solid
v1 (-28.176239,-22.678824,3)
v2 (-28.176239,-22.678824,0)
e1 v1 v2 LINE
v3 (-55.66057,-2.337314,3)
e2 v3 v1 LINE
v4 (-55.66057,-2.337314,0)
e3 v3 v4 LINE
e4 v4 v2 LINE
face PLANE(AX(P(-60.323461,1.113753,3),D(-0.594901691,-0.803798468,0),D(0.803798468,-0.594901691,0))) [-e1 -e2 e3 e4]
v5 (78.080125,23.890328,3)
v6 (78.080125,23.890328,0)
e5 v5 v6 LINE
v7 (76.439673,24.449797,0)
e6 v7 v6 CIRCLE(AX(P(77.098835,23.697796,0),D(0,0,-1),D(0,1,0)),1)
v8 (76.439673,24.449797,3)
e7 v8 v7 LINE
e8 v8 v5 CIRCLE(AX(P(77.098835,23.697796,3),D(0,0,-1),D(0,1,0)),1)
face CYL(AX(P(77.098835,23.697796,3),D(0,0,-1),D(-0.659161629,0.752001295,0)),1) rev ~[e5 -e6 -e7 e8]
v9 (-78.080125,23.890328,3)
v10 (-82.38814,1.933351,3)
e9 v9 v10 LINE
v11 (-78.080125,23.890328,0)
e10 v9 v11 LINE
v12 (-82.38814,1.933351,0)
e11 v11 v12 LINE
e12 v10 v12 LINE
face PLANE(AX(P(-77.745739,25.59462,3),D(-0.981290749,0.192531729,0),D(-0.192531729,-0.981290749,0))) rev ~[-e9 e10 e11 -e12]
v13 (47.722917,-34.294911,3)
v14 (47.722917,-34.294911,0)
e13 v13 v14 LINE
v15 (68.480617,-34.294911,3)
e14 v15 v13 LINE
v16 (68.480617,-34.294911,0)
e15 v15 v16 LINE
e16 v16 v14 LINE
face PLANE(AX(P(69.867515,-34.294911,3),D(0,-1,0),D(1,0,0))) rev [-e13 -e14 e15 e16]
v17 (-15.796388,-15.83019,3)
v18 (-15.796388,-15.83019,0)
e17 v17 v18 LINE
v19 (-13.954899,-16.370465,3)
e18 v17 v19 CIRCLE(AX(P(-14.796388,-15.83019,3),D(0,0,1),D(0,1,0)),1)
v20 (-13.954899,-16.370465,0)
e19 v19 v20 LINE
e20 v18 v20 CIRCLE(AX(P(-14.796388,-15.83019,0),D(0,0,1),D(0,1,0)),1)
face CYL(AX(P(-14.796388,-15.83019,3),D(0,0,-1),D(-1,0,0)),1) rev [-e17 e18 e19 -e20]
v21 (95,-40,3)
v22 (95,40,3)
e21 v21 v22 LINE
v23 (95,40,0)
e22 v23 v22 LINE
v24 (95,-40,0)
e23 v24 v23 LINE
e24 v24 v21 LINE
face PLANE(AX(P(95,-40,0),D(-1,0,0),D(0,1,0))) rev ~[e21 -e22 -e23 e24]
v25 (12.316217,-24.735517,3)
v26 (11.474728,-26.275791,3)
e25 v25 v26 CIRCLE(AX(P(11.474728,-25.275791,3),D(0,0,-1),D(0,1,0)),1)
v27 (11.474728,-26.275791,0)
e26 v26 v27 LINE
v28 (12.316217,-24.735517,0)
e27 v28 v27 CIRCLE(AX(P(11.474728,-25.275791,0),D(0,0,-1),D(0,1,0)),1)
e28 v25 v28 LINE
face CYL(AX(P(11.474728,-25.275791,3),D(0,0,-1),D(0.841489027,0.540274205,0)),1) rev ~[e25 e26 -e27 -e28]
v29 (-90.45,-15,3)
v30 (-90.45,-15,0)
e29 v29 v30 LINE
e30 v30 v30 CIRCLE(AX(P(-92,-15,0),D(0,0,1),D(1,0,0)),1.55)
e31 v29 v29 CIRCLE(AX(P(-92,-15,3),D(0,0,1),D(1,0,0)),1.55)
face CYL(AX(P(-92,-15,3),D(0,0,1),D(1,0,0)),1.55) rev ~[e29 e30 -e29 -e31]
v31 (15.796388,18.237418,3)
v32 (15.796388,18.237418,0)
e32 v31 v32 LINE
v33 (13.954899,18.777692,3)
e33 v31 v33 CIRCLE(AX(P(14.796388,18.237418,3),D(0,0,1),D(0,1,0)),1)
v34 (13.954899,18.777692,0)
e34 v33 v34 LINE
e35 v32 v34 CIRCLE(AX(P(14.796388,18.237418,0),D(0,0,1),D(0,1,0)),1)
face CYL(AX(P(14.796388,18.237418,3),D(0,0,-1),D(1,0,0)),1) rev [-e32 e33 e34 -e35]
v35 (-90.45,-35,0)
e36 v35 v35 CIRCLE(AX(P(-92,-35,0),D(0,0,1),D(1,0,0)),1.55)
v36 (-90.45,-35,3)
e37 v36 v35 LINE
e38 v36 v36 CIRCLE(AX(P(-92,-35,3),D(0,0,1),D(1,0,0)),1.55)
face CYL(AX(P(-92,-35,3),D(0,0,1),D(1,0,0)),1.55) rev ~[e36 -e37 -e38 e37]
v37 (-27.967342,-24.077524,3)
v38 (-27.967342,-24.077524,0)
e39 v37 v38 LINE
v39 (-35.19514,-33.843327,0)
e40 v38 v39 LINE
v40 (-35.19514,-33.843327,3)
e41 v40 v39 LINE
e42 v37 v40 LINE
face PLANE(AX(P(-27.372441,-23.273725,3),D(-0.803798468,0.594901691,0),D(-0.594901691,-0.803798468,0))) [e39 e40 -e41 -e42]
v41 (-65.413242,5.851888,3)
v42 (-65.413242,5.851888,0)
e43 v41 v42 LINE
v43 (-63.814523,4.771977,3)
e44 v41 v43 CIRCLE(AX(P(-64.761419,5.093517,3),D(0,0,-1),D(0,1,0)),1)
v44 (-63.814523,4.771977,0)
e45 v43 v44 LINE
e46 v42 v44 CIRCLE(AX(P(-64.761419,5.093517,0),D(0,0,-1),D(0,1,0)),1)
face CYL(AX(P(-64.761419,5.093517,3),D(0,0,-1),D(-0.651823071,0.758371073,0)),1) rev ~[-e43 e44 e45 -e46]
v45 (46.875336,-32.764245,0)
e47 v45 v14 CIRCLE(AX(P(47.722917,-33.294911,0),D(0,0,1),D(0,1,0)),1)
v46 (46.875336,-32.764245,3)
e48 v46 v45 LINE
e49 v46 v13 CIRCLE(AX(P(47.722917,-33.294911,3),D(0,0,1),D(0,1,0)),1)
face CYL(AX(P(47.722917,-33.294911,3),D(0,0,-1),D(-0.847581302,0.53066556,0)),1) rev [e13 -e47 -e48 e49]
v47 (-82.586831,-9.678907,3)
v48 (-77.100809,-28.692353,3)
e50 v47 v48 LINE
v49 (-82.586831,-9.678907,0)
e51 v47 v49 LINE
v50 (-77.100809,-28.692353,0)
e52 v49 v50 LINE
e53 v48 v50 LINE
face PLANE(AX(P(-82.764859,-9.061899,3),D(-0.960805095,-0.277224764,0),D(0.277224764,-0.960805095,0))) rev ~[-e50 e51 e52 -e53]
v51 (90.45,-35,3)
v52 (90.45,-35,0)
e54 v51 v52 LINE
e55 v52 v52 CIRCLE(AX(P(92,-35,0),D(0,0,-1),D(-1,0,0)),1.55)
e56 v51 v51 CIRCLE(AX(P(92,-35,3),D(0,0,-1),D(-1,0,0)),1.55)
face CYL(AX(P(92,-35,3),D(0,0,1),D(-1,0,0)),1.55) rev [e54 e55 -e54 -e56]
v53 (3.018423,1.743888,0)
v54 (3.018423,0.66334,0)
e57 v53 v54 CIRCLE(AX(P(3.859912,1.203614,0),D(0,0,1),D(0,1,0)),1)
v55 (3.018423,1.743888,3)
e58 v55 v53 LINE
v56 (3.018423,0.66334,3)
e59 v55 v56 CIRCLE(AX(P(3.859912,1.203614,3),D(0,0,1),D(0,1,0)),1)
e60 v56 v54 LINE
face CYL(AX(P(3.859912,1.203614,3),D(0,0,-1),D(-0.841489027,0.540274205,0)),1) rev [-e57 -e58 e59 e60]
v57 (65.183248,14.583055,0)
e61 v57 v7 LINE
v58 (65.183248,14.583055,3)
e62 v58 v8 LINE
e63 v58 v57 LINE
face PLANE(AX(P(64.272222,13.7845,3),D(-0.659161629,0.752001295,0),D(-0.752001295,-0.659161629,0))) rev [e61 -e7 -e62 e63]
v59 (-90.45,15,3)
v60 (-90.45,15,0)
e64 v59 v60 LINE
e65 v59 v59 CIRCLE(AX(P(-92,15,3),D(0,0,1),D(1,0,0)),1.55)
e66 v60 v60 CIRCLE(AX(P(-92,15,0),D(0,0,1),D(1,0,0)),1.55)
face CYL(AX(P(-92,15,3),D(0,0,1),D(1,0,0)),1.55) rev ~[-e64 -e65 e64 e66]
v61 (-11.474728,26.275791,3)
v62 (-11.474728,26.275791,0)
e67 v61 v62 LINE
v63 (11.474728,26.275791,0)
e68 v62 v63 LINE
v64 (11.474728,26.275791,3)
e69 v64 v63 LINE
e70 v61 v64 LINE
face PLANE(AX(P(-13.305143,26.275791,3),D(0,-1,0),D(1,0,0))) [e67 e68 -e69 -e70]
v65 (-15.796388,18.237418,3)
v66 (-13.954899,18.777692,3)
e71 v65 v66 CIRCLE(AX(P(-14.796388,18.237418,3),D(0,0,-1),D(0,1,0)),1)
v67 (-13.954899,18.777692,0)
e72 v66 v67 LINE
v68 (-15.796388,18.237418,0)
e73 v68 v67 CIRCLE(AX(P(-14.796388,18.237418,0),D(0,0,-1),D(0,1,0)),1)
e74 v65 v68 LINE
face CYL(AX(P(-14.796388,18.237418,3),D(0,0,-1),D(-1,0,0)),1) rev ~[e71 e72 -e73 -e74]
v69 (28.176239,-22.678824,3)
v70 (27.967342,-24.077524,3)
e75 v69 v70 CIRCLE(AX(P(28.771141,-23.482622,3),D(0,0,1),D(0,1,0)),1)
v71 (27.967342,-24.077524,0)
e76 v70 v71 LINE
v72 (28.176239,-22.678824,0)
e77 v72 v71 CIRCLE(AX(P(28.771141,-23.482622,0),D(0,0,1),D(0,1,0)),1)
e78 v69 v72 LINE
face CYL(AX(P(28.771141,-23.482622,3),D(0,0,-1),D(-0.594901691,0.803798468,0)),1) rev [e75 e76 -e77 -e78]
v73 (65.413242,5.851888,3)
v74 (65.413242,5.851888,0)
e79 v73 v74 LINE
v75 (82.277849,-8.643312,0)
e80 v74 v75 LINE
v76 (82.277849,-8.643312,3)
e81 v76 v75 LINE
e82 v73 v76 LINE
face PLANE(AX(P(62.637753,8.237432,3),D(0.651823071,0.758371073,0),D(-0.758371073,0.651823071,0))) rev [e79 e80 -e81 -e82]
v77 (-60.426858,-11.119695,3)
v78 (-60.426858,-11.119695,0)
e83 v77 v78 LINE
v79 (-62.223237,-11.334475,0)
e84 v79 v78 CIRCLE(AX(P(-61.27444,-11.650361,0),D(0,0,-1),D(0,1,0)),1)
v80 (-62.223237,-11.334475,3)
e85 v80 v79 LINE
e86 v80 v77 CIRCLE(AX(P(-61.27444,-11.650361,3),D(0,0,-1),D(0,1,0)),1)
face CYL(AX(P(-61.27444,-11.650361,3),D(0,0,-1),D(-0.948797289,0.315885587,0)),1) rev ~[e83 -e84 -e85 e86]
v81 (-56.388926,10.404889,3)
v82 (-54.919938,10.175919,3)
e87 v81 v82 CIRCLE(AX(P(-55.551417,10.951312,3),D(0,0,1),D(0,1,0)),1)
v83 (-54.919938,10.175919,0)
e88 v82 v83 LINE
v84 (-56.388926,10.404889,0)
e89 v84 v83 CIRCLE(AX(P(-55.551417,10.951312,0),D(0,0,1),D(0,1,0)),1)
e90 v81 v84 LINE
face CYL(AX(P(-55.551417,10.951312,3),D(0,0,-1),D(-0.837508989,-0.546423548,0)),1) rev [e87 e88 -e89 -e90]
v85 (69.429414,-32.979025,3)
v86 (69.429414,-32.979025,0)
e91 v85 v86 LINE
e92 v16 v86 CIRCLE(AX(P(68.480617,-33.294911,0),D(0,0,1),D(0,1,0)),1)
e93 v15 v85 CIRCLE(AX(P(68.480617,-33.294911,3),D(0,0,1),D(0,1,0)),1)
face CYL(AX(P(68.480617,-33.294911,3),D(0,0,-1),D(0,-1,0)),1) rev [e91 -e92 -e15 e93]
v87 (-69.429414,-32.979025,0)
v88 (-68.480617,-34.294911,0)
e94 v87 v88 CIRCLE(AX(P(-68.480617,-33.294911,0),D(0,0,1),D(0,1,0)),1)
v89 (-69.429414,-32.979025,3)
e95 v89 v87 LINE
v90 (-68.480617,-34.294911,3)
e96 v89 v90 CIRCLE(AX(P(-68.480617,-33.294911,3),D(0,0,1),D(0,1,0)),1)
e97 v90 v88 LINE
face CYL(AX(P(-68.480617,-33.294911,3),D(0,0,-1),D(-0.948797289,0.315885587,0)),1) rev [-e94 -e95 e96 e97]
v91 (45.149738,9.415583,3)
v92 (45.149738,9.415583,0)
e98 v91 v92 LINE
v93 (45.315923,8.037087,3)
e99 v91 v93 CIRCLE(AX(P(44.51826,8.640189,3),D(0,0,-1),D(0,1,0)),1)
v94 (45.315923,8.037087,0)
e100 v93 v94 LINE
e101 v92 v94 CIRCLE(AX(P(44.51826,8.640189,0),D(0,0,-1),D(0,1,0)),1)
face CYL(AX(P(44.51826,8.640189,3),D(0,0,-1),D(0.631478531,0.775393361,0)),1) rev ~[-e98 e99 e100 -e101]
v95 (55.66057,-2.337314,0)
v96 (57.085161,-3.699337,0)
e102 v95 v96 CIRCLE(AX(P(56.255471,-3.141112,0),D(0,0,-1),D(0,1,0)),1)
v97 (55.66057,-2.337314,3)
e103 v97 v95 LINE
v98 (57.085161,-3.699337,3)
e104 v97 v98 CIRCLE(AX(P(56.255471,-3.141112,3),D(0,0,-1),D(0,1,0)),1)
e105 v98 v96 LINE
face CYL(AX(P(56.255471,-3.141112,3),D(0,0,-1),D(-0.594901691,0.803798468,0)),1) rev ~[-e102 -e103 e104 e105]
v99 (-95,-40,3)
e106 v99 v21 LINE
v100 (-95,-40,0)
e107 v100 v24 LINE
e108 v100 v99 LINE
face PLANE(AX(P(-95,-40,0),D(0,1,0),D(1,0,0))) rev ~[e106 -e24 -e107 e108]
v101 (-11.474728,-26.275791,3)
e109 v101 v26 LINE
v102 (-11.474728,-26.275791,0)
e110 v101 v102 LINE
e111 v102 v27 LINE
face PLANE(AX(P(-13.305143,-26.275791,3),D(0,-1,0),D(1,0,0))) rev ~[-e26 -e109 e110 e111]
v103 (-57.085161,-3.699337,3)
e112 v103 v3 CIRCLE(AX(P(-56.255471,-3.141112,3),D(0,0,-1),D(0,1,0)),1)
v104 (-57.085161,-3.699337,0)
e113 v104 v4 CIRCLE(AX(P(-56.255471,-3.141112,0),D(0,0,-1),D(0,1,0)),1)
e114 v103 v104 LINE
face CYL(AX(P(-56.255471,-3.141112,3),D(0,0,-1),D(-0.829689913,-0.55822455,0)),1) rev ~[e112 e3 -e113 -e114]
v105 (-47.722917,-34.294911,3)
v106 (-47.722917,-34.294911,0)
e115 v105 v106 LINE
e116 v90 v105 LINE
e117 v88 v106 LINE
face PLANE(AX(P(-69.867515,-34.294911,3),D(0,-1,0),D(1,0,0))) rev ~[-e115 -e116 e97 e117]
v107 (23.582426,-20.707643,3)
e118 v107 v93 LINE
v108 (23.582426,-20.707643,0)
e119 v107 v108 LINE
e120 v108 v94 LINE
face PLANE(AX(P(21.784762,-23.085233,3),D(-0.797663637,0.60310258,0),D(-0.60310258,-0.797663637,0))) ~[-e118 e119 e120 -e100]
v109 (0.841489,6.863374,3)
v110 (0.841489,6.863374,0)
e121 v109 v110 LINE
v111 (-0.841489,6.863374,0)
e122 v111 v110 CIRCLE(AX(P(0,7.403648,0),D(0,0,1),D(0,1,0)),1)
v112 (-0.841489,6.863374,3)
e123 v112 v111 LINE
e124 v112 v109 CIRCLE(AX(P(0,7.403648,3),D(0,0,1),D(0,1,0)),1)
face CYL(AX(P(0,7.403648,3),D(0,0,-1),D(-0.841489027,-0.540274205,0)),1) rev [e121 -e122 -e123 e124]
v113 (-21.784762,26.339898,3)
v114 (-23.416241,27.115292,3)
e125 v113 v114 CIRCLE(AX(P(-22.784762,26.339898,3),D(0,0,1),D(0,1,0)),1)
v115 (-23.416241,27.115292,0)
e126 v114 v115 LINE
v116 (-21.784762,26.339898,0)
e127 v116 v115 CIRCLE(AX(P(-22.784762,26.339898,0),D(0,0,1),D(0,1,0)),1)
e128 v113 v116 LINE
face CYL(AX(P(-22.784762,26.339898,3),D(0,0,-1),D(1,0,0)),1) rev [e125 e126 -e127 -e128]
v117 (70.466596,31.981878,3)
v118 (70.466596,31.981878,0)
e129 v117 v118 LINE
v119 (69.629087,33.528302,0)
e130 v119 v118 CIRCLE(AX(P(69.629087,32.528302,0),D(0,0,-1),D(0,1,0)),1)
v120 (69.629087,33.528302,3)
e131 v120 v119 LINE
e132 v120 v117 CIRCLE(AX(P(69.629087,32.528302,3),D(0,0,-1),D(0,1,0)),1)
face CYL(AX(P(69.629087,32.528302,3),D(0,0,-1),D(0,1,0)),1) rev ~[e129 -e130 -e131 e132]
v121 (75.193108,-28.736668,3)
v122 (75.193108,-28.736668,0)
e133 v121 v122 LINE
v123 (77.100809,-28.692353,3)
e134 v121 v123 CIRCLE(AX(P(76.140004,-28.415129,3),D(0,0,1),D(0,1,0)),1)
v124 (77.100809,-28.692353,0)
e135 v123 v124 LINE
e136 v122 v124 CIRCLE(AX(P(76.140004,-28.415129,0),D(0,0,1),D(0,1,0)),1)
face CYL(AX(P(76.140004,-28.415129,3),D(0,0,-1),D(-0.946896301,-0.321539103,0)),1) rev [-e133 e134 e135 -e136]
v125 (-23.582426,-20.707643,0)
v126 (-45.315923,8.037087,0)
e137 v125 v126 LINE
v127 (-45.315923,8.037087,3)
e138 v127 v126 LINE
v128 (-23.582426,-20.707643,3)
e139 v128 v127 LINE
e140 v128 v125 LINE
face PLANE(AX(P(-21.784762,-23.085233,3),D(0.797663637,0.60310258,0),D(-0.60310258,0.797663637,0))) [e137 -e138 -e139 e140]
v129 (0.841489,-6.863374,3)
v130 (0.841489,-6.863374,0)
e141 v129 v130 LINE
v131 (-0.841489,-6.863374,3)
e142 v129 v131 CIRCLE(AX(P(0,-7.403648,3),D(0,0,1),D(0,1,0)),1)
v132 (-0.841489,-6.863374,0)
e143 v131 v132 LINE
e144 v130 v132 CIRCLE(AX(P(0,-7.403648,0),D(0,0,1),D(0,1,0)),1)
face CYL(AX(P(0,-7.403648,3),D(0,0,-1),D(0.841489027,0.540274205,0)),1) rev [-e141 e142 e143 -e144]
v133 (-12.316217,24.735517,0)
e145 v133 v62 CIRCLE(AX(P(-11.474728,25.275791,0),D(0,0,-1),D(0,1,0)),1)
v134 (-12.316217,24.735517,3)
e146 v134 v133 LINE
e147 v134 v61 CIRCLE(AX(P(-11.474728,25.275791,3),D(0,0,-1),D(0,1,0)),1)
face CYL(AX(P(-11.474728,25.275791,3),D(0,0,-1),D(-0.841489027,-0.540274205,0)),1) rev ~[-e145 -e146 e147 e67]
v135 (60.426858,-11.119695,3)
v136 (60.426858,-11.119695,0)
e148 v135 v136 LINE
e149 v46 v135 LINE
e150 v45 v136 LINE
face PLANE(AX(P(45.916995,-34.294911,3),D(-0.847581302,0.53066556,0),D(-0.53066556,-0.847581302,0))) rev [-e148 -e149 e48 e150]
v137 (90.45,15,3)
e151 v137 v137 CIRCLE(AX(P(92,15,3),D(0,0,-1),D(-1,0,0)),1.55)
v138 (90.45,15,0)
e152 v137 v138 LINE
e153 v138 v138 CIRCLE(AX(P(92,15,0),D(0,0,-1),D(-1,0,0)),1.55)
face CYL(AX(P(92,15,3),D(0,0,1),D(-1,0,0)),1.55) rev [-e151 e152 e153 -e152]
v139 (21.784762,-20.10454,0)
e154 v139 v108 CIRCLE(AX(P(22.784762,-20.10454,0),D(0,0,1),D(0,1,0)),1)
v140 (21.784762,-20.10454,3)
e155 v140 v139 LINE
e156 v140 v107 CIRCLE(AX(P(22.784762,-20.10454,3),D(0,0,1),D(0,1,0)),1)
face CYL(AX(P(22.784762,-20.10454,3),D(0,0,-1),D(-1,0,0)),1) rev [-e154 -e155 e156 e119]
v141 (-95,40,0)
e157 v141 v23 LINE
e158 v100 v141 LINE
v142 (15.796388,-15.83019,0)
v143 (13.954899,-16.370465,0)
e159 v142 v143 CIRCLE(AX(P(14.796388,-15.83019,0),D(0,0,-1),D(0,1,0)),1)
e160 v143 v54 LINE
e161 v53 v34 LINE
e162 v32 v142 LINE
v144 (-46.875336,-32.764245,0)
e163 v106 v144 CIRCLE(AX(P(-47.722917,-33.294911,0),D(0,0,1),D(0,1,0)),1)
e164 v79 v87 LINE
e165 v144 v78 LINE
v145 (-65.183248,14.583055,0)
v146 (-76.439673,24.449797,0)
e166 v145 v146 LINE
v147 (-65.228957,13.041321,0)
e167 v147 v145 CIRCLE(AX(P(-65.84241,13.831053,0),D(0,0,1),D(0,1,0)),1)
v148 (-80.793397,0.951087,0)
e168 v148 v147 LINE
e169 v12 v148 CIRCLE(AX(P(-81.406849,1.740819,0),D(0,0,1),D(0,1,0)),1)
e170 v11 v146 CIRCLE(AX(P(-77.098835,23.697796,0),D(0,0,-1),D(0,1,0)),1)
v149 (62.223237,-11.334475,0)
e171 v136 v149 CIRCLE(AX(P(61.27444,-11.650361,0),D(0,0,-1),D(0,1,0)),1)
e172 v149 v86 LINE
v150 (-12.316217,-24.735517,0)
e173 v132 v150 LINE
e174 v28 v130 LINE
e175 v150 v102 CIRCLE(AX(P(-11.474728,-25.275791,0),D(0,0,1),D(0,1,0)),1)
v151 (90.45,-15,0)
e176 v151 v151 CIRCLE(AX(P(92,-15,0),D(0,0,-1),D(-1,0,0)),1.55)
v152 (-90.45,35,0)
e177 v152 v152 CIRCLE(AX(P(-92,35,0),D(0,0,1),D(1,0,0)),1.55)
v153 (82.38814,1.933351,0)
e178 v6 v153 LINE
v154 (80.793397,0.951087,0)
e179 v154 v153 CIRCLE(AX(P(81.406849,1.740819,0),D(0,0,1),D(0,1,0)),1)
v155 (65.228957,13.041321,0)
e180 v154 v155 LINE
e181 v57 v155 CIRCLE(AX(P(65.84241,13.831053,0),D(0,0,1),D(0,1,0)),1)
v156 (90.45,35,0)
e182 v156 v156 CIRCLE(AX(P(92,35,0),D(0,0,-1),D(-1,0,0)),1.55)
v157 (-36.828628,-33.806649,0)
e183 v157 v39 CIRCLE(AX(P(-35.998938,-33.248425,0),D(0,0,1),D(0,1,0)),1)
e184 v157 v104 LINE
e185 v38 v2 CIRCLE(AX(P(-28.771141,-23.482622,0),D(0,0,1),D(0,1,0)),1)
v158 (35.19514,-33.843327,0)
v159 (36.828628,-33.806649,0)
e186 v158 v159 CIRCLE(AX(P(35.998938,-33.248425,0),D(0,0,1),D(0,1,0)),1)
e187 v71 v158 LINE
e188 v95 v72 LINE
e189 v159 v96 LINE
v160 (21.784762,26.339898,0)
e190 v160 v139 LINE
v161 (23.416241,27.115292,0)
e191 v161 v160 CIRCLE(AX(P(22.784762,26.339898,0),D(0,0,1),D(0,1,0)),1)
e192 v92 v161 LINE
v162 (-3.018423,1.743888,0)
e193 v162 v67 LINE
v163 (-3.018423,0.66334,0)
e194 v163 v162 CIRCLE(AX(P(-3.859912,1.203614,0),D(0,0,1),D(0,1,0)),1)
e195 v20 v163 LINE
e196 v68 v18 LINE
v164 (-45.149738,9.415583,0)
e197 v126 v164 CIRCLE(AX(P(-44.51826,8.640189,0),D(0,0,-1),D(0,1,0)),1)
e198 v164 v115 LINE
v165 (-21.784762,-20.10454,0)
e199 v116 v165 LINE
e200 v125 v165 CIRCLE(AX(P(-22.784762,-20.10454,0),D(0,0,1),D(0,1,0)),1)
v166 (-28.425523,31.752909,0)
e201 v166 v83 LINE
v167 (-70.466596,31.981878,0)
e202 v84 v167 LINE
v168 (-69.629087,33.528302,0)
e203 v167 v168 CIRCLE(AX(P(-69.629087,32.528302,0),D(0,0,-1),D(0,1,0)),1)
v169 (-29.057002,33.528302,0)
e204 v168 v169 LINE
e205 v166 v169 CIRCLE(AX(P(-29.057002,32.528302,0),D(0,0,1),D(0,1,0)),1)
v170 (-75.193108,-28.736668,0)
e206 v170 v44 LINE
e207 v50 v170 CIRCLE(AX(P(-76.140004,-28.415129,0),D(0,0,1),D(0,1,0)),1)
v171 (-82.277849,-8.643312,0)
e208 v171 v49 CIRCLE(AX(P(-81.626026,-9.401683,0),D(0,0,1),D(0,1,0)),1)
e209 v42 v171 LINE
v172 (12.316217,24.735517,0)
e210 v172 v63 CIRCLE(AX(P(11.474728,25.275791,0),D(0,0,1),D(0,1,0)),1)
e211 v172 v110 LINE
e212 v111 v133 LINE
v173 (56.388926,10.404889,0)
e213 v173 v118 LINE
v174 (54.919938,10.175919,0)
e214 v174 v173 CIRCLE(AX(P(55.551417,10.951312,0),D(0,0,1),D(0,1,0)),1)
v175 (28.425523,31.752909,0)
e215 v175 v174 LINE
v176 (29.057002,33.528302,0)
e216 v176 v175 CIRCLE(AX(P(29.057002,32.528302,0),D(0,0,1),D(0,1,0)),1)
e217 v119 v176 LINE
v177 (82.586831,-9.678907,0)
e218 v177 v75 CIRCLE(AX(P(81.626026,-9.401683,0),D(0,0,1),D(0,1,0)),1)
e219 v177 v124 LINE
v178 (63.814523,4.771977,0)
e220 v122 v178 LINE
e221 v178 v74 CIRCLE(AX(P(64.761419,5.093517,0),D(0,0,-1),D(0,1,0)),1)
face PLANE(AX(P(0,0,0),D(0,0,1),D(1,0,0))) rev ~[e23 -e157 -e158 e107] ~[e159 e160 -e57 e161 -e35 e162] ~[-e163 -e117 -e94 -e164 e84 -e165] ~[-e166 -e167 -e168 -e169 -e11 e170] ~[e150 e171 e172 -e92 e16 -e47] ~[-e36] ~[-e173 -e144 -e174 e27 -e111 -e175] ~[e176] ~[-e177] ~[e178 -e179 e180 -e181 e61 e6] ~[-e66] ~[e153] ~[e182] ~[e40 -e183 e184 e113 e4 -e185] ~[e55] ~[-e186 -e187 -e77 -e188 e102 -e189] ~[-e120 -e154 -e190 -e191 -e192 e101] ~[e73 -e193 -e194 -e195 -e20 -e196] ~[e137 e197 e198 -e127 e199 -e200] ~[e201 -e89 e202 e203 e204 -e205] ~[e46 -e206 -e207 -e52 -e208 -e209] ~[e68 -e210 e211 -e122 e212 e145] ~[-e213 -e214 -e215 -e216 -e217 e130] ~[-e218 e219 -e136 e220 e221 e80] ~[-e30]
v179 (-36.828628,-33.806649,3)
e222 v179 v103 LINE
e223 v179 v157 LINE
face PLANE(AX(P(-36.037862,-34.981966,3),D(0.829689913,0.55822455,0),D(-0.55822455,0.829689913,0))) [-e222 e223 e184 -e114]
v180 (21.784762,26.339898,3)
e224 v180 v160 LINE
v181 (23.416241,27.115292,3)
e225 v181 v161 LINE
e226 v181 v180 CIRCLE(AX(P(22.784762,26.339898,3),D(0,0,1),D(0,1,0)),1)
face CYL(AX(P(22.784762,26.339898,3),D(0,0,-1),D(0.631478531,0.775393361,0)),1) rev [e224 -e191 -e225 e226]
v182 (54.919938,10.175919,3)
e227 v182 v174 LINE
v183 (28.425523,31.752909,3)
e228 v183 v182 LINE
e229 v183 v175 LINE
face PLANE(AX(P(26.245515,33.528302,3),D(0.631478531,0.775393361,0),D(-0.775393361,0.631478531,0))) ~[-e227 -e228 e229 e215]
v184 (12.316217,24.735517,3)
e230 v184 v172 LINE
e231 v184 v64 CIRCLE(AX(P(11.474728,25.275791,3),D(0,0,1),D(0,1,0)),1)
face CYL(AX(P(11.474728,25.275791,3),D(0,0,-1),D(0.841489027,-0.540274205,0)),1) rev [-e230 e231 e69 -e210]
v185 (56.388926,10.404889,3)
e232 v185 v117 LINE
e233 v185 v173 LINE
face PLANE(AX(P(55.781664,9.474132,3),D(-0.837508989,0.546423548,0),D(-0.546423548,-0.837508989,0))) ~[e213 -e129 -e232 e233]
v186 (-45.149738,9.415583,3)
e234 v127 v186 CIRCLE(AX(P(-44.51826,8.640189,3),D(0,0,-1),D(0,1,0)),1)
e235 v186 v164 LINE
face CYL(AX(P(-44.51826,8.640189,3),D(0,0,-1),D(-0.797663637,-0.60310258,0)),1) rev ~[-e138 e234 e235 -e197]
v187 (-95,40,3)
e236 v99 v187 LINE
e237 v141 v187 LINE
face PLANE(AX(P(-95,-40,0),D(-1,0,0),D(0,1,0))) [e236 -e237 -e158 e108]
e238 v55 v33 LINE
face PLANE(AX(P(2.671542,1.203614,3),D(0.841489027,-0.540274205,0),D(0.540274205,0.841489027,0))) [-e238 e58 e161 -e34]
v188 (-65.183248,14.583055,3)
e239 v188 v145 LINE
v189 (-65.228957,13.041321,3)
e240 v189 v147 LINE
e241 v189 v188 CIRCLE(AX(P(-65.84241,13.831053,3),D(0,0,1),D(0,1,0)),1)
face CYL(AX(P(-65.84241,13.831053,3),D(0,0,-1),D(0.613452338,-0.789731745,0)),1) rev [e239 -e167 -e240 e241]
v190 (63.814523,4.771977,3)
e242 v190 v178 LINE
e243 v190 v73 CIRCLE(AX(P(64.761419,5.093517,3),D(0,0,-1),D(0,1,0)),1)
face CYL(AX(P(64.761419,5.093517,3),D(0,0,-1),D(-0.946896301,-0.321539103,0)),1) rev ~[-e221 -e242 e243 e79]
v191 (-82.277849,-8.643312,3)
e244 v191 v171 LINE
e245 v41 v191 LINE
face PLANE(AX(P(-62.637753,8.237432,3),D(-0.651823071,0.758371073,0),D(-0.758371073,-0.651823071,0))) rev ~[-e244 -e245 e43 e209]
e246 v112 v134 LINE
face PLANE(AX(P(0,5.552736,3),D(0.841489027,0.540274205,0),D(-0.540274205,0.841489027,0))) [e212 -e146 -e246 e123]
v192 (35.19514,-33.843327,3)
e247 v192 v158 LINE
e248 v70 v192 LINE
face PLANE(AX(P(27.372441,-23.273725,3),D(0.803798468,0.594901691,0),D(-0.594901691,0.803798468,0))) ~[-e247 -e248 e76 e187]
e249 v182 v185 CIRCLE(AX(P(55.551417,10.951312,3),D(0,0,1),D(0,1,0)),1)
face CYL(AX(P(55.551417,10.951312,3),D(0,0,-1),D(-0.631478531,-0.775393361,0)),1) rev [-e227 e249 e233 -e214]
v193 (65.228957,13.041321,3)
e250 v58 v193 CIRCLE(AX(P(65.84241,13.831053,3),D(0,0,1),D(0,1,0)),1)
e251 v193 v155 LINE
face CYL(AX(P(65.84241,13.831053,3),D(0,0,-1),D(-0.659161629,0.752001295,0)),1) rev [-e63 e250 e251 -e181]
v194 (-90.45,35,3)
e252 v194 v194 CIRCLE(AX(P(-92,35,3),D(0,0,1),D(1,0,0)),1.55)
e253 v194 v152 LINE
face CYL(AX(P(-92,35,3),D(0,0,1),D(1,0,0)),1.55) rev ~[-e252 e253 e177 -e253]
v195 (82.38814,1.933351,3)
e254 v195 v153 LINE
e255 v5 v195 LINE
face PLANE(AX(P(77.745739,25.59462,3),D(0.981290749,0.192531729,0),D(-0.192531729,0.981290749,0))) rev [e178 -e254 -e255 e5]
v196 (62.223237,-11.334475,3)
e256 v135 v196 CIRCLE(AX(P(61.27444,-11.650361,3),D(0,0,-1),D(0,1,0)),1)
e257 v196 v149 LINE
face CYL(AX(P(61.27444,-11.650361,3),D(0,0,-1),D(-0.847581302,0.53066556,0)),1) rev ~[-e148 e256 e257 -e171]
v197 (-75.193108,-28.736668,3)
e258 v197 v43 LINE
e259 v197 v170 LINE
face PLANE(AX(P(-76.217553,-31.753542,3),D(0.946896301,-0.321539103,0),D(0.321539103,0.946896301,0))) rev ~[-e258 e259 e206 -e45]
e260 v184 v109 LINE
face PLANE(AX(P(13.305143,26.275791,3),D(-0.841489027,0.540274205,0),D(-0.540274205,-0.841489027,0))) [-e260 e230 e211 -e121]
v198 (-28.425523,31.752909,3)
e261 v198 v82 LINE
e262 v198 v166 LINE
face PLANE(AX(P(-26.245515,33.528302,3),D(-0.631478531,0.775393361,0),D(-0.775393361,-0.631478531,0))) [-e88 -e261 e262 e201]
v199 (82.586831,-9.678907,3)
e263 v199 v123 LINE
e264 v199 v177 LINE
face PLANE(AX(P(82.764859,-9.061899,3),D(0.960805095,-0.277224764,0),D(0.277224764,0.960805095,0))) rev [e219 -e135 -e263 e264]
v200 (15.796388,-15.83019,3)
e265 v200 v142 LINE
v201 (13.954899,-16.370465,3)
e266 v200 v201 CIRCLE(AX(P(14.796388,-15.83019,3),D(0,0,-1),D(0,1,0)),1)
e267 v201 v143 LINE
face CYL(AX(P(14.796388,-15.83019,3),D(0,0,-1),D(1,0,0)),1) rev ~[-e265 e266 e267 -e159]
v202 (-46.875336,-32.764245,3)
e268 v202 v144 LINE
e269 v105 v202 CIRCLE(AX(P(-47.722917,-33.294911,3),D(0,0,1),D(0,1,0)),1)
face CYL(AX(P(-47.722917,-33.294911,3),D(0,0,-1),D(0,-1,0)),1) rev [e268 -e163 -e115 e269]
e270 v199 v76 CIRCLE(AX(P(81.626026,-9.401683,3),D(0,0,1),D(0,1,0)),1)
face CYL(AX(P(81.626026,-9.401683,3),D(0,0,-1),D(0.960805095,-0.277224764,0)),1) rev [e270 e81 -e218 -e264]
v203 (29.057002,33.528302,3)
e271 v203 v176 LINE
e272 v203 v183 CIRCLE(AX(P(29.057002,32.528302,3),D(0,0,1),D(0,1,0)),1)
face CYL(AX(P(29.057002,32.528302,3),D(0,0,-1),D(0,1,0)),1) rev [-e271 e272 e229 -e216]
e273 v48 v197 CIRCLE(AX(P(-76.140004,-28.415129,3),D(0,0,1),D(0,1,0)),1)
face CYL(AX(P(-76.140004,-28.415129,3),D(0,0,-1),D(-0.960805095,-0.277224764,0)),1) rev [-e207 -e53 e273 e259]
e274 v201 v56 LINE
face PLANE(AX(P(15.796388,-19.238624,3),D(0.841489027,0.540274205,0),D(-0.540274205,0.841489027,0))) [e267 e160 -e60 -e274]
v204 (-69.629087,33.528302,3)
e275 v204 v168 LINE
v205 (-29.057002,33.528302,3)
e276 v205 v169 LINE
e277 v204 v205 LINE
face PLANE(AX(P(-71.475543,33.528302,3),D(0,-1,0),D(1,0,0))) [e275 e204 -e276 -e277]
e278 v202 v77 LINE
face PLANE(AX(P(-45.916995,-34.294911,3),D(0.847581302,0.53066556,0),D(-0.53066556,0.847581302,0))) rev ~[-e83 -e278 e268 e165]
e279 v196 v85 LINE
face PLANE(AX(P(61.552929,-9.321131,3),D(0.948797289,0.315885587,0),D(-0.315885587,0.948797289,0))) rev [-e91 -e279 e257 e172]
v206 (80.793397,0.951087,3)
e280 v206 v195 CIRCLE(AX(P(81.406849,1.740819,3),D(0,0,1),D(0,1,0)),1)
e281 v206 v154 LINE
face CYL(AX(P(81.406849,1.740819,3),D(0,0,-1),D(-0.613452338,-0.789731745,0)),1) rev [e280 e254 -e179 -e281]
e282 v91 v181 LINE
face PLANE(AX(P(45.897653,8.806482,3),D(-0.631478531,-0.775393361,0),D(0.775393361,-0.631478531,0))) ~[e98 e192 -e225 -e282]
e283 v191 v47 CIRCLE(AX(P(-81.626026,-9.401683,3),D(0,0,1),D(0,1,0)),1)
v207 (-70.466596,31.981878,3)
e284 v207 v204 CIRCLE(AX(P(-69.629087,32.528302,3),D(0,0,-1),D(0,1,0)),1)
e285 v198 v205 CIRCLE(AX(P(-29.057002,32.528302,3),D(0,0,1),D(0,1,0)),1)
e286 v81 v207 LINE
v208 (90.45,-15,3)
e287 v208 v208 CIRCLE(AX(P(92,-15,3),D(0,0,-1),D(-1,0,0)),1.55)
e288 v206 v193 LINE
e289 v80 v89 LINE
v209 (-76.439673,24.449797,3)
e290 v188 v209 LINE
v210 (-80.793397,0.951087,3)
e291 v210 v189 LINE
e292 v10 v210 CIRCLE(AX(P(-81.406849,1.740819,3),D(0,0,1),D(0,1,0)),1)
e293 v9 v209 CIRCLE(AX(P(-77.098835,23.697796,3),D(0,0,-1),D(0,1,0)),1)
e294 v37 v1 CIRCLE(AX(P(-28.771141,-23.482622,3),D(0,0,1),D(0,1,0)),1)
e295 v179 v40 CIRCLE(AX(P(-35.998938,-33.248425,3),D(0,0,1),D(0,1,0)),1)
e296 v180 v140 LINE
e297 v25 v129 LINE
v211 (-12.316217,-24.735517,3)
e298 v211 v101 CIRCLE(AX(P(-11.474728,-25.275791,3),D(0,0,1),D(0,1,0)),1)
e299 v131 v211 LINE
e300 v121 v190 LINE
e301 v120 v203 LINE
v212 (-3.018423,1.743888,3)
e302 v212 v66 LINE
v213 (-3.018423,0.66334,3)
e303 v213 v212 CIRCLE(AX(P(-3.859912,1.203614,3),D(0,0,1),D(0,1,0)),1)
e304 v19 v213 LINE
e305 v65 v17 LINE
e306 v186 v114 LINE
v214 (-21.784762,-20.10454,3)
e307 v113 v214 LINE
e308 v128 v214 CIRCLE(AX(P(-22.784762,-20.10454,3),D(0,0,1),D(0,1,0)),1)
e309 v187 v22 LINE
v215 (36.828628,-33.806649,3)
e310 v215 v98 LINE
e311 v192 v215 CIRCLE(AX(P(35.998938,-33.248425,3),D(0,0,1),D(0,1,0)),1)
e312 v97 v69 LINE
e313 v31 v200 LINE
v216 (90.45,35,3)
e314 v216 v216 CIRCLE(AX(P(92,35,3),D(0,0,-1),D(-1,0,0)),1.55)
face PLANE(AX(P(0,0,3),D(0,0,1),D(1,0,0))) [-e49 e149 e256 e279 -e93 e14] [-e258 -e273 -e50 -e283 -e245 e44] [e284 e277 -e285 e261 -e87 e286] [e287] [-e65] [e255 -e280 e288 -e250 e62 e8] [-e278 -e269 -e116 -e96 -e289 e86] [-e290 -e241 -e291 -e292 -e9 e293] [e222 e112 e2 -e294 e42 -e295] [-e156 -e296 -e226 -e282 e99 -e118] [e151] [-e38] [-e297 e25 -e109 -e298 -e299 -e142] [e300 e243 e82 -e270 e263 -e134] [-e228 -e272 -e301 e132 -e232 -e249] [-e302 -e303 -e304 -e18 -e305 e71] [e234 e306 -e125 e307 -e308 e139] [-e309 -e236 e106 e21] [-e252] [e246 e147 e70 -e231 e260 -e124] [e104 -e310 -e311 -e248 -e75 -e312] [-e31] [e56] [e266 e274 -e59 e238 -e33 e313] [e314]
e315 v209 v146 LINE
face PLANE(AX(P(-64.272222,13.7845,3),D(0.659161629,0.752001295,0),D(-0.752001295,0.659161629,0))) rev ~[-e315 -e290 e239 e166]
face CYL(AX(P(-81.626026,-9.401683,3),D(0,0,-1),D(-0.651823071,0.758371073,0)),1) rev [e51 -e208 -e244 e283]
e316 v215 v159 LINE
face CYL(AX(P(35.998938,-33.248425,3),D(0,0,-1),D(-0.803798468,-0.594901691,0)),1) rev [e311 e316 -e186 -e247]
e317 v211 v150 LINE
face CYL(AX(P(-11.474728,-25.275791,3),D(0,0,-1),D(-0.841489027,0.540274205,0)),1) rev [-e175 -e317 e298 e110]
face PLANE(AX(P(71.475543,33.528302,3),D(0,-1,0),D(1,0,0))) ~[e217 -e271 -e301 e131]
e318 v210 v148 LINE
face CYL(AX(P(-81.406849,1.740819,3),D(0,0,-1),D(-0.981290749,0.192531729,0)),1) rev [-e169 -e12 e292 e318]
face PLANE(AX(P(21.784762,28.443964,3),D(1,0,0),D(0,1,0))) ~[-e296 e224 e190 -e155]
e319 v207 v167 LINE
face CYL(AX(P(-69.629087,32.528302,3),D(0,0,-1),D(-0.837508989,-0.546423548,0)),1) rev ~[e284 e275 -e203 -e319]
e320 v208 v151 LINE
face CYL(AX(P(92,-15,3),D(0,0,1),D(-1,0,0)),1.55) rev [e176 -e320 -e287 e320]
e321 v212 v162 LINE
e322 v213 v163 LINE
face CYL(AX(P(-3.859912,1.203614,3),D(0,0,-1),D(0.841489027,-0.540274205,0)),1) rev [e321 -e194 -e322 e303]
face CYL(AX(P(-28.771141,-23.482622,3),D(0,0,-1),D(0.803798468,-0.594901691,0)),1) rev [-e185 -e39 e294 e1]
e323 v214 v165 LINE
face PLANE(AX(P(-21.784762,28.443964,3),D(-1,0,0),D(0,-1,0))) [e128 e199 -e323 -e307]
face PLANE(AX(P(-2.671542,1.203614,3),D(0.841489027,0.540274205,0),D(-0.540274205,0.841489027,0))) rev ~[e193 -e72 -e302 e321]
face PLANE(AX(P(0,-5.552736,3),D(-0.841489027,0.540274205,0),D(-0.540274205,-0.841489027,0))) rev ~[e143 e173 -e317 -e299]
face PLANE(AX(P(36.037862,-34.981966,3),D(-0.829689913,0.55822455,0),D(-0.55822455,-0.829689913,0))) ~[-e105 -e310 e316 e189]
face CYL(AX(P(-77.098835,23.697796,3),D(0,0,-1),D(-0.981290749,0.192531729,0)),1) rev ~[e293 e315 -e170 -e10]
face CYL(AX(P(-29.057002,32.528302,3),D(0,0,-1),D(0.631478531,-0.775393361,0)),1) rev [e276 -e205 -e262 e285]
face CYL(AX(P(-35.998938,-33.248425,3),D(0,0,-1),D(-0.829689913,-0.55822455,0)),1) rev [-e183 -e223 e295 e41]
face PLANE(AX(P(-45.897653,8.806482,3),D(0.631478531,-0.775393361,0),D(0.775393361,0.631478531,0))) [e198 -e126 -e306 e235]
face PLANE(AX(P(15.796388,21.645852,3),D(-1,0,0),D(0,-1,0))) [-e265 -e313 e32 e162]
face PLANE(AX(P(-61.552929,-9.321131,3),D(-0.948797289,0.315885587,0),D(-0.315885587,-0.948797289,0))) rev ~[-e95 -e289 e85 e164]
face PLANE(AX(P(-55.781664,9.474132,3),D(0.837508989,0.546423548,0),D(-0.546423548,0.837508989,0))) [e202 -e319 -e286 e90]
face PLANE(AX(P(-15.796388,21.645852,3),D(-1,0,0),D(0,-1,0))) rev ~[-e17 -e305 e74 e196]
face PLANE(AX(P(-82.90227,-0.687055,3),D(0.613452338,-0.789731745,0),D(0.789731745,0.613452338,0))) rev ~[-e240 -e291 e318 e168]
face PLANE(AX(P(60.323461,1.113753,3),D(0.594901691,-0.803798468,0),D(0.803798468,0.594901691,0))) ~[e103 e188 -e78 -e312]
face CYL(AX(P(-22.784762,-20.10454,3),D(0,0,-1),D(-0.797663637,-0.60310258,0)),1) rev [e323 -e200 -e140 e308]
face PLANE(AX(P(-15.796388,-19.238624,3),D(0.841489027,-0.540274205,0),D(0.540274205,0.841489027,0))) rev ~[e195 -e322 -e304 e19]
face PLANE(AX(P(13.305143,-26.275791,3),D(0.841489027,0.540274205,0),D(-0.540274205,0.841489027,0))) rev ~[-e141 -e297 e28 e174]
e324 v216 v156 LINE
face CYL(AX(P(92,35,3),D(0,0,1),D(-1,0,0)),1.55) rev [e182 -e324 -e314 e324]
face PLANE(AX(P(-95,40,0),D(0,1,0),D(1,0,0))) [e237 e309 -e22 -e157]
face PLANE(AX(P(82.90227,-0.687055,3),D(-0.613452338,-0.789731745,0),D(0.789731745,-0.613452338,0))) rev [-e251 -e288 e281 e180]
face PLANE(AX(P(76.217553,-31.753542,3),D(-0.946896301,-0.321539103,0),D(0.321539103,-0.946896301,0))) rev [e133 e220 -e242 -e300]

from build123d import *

# Parameters (mm, degrees)
SKETCH_1_W             = 190
SKETCH_1_H             = 80
EXTRUDE_1_DEPTH        = 3
SKETCH_2_R             = 1.55
CUT_EXTRUDE_1_DEPTH    = 3
CUT_EXTRUDE_3_DEPTH    = 3
FILLET_1_R             = 1
CUT_EXTRUDE_4_DEPTH    = 3
FILLET_2_R             = 1
FILLET_2_OF_MIRROR_2_R = 1


with BuildPart() as part:
    # 草图1 → 凸台-拉伸1 (new body)
    with BuildSketch(Plane.XY):
        Rectangle(SKETCH_1_W, SKETCH_1_H)
    extrude(amount=EXTRUDE_1_DEPTH)

    # 草图2 → 切除-拉伸1 (cut)
    with BuildSketch(Plane.XY.offset(3)):
        with Locations((-92, 35)):
            Circle(SKETCH_2_R)
        with Locations((-92, 15)):
            Circle(SKETCH_2_R)
        with Locations((-92, -15)):
            Circle(SKETCH_2_R)
        with Locations((-92, -35)):
            Circle(SKETCH_2_R)
    cut_extrude_1 = extrude(amount=-CUT_EXTRUDE_1_DEPTH, mode=Mode.SUBTRACT)

    # 镜向1: 切除-拉伸1 across plane
    add(cut_extrude_1.mirror(Plane(origin=(0, 0, 0), x_dir=(0, 0, 1), z_dir=(1, 0, 0))), mode=Mode.SUBTRACT)

    # 草图3 → 切除-拉伸3 (cut)
    with BuildSketch(Plane.XY.offset(3)):
        Polygon((-13.305143171, 26.275790798), (13.305143171, 26.275790798), (0, 5.552735947), align=None)
        Polygon((-15.79638841, 21.645852354), (-15.79638841, -19.238624417), (-2.671542174, 1.203613969), align=None)
        Polygon((13.305143171, -26.275790798), (0, -5.552735947), (-13.305143171, -26.275790798), align=None)
        Polygon((15.79638841, -19.238624417), (2.671542174, 1.203613969), (15.79638841, 21.645852354), align=None)
    extrude(amount=-CUT_EXTRUDE_3_DEPTH, mode=Mode.SUBTRACT)

    # 圆角1
    fillet_1_edges = [part.edges().sort_by_distance(p)[0] for p in [
        (13.305143171, -26.275790798, 1.5),
        (-13.305143171, -26.275790798, 1.5),
        (0, -5.552735947, 1.5),
        (-2.671542174, 1.203613969, 1.5),
        (-15.79638841, -19.238624417, 1.5),
        (-15.79638841, 21.645852354, 1.5),
        (15.79638841, 21.645852354, 1.5),
        (15.79638841, -19.238624417, 1.5),
        (2.671542174, 1.203613969, 1.5),
        (13.305143171, 26.275790798, 1.5),
        (0, 5.552735947, 1.5),
        (-13.305143171, 26.275790798, 1.5),
    ]]
    fillet(fillet_1_edges, radius=FILLET_1_R)

    # 草图4 → 切除-拉伸4 (cut)
    with BuildSketch(Plane.XY.offset(3)):
        Polygon((-77.745738902, 25.594620463), (-82.902270236, -0.687055367), (-64.272221547, 13.784500311), align=None)
        Polygon((-71.475542855, 33.528301912), (-26.245515021, 33.528301912), (-55.781663642, 9.474131903), align=None)
        Polygon((-62.637752989, 8.237432243), (-82.764859163, -9.061898683), (-76.217552598, -31.75354211), align=None)
        Polygon((-60.323461226, 1.113752911), (-27.372440787, -23.273725493), (-36.037862042, -34.981966425), align=None)
        Polygon((-61.552928725, -9.321130873), (-69.867515307, -34.294911058), (-45.916995004, -34.294911058), align=None)
        Polygon((-45.897652866, 8.806482477), (-21.784762082, 28.44396405), (-21.784762082, -23.085233425), align=None)
    cut_extrude_4 = extrude(amount=-CUT_EXTRUDE_4_DEPTH, mode=Mode.SUBTRACT)

    # 圆角2
    fillet_2_edges = [part.edges().sort_by_distance(p)[0] for p in [
        (-36.037862042, -34.981966425, 1.5),
        (-60.323461226, 1.113752911, 1.5),
        (-27.372440787, -23.273725493, 1.5),
        (-61.552928725, -9.321130873, 1.5),
        (-45.916995004, -34.294911058, 1.5),
        (-69.867515307, -34.294911058, 1.5),
        (-62.637752989, 8.237432243, 1.5),
        (-76.217552598, -31.75354211, 1.5),
        (-82.764859163, -9.061898683, 1.5),
        (-55.781663642, 9.474131903, 1.5),
        (-71.475542855, 33.528301912, 1.5),
        (-26.245515021, 33.528301912, 1.5),
        (-21.784762082, -23.085233425, 1.5),
        (-45.897652866, 8.806482477, 1.5),
        (-21.784762082, 28.44396405, 1.5),
        (-77.745738902, 25.594620463, 1.5),
        (-64.272221547, 13.784500311, 1.5),
        (-82.902270236, -0.687055367, 1.5),
    ]]
    fillet(fillet_2_edges, radius=FILLET_2_R)

    # 镜向2: 切除-拉伸4 across plane
    add(cut_extrude_4.mirror(Plane(origin=(0, 0, 0), x_dir=(0, 0, 1), z_dir=(1, 0, 0))), mode=Mode.SUBTRACT)

    # 圆角2 of 镜向2
    fillet_2_of_mirror_2_edges = [part.edges().sort_by_distance(p)[0] for p in [
        (36.037862042, -34.981966425, 1.5),
        (60.323461226, 1.113752911, 1.5),
        (27.372440787, -23.273725493, 1.5),
        (61.552928725, -9.321130873, 1.5),
        (45.916995004, -34.294911058, 1.5),
        (69.867515307, -34.294911058, 1.5),
        (62.637752989, 8.237432243, 1.5),
        (76.217552598, -31.75354211, 1.5),
        (82.764859163, -9.061898683, 1.5),
        (55.781663642, 9.474131903, 1.5),
        (71.475542855, 33.528301912, 1.5),
        (26.245515021, 33.528301912, 1.5),
        (21.784762082, -23.085233425, 1.5),
        (45.897652866, 8.806482477, 1.5),
        (21.784762082, 28.44396405, 1.5),
        (77.745738902, 25.594620463, 1.5),
        (64.272221547, 13.784500311, 1.5),
        (82.902270236, -0.687055367, 1.5),
    ]]
    fillet(fillet_2_of_mirror_2_edges, radius=FILLET_2_OF_MIRROR_2_R)


solid = part.part
